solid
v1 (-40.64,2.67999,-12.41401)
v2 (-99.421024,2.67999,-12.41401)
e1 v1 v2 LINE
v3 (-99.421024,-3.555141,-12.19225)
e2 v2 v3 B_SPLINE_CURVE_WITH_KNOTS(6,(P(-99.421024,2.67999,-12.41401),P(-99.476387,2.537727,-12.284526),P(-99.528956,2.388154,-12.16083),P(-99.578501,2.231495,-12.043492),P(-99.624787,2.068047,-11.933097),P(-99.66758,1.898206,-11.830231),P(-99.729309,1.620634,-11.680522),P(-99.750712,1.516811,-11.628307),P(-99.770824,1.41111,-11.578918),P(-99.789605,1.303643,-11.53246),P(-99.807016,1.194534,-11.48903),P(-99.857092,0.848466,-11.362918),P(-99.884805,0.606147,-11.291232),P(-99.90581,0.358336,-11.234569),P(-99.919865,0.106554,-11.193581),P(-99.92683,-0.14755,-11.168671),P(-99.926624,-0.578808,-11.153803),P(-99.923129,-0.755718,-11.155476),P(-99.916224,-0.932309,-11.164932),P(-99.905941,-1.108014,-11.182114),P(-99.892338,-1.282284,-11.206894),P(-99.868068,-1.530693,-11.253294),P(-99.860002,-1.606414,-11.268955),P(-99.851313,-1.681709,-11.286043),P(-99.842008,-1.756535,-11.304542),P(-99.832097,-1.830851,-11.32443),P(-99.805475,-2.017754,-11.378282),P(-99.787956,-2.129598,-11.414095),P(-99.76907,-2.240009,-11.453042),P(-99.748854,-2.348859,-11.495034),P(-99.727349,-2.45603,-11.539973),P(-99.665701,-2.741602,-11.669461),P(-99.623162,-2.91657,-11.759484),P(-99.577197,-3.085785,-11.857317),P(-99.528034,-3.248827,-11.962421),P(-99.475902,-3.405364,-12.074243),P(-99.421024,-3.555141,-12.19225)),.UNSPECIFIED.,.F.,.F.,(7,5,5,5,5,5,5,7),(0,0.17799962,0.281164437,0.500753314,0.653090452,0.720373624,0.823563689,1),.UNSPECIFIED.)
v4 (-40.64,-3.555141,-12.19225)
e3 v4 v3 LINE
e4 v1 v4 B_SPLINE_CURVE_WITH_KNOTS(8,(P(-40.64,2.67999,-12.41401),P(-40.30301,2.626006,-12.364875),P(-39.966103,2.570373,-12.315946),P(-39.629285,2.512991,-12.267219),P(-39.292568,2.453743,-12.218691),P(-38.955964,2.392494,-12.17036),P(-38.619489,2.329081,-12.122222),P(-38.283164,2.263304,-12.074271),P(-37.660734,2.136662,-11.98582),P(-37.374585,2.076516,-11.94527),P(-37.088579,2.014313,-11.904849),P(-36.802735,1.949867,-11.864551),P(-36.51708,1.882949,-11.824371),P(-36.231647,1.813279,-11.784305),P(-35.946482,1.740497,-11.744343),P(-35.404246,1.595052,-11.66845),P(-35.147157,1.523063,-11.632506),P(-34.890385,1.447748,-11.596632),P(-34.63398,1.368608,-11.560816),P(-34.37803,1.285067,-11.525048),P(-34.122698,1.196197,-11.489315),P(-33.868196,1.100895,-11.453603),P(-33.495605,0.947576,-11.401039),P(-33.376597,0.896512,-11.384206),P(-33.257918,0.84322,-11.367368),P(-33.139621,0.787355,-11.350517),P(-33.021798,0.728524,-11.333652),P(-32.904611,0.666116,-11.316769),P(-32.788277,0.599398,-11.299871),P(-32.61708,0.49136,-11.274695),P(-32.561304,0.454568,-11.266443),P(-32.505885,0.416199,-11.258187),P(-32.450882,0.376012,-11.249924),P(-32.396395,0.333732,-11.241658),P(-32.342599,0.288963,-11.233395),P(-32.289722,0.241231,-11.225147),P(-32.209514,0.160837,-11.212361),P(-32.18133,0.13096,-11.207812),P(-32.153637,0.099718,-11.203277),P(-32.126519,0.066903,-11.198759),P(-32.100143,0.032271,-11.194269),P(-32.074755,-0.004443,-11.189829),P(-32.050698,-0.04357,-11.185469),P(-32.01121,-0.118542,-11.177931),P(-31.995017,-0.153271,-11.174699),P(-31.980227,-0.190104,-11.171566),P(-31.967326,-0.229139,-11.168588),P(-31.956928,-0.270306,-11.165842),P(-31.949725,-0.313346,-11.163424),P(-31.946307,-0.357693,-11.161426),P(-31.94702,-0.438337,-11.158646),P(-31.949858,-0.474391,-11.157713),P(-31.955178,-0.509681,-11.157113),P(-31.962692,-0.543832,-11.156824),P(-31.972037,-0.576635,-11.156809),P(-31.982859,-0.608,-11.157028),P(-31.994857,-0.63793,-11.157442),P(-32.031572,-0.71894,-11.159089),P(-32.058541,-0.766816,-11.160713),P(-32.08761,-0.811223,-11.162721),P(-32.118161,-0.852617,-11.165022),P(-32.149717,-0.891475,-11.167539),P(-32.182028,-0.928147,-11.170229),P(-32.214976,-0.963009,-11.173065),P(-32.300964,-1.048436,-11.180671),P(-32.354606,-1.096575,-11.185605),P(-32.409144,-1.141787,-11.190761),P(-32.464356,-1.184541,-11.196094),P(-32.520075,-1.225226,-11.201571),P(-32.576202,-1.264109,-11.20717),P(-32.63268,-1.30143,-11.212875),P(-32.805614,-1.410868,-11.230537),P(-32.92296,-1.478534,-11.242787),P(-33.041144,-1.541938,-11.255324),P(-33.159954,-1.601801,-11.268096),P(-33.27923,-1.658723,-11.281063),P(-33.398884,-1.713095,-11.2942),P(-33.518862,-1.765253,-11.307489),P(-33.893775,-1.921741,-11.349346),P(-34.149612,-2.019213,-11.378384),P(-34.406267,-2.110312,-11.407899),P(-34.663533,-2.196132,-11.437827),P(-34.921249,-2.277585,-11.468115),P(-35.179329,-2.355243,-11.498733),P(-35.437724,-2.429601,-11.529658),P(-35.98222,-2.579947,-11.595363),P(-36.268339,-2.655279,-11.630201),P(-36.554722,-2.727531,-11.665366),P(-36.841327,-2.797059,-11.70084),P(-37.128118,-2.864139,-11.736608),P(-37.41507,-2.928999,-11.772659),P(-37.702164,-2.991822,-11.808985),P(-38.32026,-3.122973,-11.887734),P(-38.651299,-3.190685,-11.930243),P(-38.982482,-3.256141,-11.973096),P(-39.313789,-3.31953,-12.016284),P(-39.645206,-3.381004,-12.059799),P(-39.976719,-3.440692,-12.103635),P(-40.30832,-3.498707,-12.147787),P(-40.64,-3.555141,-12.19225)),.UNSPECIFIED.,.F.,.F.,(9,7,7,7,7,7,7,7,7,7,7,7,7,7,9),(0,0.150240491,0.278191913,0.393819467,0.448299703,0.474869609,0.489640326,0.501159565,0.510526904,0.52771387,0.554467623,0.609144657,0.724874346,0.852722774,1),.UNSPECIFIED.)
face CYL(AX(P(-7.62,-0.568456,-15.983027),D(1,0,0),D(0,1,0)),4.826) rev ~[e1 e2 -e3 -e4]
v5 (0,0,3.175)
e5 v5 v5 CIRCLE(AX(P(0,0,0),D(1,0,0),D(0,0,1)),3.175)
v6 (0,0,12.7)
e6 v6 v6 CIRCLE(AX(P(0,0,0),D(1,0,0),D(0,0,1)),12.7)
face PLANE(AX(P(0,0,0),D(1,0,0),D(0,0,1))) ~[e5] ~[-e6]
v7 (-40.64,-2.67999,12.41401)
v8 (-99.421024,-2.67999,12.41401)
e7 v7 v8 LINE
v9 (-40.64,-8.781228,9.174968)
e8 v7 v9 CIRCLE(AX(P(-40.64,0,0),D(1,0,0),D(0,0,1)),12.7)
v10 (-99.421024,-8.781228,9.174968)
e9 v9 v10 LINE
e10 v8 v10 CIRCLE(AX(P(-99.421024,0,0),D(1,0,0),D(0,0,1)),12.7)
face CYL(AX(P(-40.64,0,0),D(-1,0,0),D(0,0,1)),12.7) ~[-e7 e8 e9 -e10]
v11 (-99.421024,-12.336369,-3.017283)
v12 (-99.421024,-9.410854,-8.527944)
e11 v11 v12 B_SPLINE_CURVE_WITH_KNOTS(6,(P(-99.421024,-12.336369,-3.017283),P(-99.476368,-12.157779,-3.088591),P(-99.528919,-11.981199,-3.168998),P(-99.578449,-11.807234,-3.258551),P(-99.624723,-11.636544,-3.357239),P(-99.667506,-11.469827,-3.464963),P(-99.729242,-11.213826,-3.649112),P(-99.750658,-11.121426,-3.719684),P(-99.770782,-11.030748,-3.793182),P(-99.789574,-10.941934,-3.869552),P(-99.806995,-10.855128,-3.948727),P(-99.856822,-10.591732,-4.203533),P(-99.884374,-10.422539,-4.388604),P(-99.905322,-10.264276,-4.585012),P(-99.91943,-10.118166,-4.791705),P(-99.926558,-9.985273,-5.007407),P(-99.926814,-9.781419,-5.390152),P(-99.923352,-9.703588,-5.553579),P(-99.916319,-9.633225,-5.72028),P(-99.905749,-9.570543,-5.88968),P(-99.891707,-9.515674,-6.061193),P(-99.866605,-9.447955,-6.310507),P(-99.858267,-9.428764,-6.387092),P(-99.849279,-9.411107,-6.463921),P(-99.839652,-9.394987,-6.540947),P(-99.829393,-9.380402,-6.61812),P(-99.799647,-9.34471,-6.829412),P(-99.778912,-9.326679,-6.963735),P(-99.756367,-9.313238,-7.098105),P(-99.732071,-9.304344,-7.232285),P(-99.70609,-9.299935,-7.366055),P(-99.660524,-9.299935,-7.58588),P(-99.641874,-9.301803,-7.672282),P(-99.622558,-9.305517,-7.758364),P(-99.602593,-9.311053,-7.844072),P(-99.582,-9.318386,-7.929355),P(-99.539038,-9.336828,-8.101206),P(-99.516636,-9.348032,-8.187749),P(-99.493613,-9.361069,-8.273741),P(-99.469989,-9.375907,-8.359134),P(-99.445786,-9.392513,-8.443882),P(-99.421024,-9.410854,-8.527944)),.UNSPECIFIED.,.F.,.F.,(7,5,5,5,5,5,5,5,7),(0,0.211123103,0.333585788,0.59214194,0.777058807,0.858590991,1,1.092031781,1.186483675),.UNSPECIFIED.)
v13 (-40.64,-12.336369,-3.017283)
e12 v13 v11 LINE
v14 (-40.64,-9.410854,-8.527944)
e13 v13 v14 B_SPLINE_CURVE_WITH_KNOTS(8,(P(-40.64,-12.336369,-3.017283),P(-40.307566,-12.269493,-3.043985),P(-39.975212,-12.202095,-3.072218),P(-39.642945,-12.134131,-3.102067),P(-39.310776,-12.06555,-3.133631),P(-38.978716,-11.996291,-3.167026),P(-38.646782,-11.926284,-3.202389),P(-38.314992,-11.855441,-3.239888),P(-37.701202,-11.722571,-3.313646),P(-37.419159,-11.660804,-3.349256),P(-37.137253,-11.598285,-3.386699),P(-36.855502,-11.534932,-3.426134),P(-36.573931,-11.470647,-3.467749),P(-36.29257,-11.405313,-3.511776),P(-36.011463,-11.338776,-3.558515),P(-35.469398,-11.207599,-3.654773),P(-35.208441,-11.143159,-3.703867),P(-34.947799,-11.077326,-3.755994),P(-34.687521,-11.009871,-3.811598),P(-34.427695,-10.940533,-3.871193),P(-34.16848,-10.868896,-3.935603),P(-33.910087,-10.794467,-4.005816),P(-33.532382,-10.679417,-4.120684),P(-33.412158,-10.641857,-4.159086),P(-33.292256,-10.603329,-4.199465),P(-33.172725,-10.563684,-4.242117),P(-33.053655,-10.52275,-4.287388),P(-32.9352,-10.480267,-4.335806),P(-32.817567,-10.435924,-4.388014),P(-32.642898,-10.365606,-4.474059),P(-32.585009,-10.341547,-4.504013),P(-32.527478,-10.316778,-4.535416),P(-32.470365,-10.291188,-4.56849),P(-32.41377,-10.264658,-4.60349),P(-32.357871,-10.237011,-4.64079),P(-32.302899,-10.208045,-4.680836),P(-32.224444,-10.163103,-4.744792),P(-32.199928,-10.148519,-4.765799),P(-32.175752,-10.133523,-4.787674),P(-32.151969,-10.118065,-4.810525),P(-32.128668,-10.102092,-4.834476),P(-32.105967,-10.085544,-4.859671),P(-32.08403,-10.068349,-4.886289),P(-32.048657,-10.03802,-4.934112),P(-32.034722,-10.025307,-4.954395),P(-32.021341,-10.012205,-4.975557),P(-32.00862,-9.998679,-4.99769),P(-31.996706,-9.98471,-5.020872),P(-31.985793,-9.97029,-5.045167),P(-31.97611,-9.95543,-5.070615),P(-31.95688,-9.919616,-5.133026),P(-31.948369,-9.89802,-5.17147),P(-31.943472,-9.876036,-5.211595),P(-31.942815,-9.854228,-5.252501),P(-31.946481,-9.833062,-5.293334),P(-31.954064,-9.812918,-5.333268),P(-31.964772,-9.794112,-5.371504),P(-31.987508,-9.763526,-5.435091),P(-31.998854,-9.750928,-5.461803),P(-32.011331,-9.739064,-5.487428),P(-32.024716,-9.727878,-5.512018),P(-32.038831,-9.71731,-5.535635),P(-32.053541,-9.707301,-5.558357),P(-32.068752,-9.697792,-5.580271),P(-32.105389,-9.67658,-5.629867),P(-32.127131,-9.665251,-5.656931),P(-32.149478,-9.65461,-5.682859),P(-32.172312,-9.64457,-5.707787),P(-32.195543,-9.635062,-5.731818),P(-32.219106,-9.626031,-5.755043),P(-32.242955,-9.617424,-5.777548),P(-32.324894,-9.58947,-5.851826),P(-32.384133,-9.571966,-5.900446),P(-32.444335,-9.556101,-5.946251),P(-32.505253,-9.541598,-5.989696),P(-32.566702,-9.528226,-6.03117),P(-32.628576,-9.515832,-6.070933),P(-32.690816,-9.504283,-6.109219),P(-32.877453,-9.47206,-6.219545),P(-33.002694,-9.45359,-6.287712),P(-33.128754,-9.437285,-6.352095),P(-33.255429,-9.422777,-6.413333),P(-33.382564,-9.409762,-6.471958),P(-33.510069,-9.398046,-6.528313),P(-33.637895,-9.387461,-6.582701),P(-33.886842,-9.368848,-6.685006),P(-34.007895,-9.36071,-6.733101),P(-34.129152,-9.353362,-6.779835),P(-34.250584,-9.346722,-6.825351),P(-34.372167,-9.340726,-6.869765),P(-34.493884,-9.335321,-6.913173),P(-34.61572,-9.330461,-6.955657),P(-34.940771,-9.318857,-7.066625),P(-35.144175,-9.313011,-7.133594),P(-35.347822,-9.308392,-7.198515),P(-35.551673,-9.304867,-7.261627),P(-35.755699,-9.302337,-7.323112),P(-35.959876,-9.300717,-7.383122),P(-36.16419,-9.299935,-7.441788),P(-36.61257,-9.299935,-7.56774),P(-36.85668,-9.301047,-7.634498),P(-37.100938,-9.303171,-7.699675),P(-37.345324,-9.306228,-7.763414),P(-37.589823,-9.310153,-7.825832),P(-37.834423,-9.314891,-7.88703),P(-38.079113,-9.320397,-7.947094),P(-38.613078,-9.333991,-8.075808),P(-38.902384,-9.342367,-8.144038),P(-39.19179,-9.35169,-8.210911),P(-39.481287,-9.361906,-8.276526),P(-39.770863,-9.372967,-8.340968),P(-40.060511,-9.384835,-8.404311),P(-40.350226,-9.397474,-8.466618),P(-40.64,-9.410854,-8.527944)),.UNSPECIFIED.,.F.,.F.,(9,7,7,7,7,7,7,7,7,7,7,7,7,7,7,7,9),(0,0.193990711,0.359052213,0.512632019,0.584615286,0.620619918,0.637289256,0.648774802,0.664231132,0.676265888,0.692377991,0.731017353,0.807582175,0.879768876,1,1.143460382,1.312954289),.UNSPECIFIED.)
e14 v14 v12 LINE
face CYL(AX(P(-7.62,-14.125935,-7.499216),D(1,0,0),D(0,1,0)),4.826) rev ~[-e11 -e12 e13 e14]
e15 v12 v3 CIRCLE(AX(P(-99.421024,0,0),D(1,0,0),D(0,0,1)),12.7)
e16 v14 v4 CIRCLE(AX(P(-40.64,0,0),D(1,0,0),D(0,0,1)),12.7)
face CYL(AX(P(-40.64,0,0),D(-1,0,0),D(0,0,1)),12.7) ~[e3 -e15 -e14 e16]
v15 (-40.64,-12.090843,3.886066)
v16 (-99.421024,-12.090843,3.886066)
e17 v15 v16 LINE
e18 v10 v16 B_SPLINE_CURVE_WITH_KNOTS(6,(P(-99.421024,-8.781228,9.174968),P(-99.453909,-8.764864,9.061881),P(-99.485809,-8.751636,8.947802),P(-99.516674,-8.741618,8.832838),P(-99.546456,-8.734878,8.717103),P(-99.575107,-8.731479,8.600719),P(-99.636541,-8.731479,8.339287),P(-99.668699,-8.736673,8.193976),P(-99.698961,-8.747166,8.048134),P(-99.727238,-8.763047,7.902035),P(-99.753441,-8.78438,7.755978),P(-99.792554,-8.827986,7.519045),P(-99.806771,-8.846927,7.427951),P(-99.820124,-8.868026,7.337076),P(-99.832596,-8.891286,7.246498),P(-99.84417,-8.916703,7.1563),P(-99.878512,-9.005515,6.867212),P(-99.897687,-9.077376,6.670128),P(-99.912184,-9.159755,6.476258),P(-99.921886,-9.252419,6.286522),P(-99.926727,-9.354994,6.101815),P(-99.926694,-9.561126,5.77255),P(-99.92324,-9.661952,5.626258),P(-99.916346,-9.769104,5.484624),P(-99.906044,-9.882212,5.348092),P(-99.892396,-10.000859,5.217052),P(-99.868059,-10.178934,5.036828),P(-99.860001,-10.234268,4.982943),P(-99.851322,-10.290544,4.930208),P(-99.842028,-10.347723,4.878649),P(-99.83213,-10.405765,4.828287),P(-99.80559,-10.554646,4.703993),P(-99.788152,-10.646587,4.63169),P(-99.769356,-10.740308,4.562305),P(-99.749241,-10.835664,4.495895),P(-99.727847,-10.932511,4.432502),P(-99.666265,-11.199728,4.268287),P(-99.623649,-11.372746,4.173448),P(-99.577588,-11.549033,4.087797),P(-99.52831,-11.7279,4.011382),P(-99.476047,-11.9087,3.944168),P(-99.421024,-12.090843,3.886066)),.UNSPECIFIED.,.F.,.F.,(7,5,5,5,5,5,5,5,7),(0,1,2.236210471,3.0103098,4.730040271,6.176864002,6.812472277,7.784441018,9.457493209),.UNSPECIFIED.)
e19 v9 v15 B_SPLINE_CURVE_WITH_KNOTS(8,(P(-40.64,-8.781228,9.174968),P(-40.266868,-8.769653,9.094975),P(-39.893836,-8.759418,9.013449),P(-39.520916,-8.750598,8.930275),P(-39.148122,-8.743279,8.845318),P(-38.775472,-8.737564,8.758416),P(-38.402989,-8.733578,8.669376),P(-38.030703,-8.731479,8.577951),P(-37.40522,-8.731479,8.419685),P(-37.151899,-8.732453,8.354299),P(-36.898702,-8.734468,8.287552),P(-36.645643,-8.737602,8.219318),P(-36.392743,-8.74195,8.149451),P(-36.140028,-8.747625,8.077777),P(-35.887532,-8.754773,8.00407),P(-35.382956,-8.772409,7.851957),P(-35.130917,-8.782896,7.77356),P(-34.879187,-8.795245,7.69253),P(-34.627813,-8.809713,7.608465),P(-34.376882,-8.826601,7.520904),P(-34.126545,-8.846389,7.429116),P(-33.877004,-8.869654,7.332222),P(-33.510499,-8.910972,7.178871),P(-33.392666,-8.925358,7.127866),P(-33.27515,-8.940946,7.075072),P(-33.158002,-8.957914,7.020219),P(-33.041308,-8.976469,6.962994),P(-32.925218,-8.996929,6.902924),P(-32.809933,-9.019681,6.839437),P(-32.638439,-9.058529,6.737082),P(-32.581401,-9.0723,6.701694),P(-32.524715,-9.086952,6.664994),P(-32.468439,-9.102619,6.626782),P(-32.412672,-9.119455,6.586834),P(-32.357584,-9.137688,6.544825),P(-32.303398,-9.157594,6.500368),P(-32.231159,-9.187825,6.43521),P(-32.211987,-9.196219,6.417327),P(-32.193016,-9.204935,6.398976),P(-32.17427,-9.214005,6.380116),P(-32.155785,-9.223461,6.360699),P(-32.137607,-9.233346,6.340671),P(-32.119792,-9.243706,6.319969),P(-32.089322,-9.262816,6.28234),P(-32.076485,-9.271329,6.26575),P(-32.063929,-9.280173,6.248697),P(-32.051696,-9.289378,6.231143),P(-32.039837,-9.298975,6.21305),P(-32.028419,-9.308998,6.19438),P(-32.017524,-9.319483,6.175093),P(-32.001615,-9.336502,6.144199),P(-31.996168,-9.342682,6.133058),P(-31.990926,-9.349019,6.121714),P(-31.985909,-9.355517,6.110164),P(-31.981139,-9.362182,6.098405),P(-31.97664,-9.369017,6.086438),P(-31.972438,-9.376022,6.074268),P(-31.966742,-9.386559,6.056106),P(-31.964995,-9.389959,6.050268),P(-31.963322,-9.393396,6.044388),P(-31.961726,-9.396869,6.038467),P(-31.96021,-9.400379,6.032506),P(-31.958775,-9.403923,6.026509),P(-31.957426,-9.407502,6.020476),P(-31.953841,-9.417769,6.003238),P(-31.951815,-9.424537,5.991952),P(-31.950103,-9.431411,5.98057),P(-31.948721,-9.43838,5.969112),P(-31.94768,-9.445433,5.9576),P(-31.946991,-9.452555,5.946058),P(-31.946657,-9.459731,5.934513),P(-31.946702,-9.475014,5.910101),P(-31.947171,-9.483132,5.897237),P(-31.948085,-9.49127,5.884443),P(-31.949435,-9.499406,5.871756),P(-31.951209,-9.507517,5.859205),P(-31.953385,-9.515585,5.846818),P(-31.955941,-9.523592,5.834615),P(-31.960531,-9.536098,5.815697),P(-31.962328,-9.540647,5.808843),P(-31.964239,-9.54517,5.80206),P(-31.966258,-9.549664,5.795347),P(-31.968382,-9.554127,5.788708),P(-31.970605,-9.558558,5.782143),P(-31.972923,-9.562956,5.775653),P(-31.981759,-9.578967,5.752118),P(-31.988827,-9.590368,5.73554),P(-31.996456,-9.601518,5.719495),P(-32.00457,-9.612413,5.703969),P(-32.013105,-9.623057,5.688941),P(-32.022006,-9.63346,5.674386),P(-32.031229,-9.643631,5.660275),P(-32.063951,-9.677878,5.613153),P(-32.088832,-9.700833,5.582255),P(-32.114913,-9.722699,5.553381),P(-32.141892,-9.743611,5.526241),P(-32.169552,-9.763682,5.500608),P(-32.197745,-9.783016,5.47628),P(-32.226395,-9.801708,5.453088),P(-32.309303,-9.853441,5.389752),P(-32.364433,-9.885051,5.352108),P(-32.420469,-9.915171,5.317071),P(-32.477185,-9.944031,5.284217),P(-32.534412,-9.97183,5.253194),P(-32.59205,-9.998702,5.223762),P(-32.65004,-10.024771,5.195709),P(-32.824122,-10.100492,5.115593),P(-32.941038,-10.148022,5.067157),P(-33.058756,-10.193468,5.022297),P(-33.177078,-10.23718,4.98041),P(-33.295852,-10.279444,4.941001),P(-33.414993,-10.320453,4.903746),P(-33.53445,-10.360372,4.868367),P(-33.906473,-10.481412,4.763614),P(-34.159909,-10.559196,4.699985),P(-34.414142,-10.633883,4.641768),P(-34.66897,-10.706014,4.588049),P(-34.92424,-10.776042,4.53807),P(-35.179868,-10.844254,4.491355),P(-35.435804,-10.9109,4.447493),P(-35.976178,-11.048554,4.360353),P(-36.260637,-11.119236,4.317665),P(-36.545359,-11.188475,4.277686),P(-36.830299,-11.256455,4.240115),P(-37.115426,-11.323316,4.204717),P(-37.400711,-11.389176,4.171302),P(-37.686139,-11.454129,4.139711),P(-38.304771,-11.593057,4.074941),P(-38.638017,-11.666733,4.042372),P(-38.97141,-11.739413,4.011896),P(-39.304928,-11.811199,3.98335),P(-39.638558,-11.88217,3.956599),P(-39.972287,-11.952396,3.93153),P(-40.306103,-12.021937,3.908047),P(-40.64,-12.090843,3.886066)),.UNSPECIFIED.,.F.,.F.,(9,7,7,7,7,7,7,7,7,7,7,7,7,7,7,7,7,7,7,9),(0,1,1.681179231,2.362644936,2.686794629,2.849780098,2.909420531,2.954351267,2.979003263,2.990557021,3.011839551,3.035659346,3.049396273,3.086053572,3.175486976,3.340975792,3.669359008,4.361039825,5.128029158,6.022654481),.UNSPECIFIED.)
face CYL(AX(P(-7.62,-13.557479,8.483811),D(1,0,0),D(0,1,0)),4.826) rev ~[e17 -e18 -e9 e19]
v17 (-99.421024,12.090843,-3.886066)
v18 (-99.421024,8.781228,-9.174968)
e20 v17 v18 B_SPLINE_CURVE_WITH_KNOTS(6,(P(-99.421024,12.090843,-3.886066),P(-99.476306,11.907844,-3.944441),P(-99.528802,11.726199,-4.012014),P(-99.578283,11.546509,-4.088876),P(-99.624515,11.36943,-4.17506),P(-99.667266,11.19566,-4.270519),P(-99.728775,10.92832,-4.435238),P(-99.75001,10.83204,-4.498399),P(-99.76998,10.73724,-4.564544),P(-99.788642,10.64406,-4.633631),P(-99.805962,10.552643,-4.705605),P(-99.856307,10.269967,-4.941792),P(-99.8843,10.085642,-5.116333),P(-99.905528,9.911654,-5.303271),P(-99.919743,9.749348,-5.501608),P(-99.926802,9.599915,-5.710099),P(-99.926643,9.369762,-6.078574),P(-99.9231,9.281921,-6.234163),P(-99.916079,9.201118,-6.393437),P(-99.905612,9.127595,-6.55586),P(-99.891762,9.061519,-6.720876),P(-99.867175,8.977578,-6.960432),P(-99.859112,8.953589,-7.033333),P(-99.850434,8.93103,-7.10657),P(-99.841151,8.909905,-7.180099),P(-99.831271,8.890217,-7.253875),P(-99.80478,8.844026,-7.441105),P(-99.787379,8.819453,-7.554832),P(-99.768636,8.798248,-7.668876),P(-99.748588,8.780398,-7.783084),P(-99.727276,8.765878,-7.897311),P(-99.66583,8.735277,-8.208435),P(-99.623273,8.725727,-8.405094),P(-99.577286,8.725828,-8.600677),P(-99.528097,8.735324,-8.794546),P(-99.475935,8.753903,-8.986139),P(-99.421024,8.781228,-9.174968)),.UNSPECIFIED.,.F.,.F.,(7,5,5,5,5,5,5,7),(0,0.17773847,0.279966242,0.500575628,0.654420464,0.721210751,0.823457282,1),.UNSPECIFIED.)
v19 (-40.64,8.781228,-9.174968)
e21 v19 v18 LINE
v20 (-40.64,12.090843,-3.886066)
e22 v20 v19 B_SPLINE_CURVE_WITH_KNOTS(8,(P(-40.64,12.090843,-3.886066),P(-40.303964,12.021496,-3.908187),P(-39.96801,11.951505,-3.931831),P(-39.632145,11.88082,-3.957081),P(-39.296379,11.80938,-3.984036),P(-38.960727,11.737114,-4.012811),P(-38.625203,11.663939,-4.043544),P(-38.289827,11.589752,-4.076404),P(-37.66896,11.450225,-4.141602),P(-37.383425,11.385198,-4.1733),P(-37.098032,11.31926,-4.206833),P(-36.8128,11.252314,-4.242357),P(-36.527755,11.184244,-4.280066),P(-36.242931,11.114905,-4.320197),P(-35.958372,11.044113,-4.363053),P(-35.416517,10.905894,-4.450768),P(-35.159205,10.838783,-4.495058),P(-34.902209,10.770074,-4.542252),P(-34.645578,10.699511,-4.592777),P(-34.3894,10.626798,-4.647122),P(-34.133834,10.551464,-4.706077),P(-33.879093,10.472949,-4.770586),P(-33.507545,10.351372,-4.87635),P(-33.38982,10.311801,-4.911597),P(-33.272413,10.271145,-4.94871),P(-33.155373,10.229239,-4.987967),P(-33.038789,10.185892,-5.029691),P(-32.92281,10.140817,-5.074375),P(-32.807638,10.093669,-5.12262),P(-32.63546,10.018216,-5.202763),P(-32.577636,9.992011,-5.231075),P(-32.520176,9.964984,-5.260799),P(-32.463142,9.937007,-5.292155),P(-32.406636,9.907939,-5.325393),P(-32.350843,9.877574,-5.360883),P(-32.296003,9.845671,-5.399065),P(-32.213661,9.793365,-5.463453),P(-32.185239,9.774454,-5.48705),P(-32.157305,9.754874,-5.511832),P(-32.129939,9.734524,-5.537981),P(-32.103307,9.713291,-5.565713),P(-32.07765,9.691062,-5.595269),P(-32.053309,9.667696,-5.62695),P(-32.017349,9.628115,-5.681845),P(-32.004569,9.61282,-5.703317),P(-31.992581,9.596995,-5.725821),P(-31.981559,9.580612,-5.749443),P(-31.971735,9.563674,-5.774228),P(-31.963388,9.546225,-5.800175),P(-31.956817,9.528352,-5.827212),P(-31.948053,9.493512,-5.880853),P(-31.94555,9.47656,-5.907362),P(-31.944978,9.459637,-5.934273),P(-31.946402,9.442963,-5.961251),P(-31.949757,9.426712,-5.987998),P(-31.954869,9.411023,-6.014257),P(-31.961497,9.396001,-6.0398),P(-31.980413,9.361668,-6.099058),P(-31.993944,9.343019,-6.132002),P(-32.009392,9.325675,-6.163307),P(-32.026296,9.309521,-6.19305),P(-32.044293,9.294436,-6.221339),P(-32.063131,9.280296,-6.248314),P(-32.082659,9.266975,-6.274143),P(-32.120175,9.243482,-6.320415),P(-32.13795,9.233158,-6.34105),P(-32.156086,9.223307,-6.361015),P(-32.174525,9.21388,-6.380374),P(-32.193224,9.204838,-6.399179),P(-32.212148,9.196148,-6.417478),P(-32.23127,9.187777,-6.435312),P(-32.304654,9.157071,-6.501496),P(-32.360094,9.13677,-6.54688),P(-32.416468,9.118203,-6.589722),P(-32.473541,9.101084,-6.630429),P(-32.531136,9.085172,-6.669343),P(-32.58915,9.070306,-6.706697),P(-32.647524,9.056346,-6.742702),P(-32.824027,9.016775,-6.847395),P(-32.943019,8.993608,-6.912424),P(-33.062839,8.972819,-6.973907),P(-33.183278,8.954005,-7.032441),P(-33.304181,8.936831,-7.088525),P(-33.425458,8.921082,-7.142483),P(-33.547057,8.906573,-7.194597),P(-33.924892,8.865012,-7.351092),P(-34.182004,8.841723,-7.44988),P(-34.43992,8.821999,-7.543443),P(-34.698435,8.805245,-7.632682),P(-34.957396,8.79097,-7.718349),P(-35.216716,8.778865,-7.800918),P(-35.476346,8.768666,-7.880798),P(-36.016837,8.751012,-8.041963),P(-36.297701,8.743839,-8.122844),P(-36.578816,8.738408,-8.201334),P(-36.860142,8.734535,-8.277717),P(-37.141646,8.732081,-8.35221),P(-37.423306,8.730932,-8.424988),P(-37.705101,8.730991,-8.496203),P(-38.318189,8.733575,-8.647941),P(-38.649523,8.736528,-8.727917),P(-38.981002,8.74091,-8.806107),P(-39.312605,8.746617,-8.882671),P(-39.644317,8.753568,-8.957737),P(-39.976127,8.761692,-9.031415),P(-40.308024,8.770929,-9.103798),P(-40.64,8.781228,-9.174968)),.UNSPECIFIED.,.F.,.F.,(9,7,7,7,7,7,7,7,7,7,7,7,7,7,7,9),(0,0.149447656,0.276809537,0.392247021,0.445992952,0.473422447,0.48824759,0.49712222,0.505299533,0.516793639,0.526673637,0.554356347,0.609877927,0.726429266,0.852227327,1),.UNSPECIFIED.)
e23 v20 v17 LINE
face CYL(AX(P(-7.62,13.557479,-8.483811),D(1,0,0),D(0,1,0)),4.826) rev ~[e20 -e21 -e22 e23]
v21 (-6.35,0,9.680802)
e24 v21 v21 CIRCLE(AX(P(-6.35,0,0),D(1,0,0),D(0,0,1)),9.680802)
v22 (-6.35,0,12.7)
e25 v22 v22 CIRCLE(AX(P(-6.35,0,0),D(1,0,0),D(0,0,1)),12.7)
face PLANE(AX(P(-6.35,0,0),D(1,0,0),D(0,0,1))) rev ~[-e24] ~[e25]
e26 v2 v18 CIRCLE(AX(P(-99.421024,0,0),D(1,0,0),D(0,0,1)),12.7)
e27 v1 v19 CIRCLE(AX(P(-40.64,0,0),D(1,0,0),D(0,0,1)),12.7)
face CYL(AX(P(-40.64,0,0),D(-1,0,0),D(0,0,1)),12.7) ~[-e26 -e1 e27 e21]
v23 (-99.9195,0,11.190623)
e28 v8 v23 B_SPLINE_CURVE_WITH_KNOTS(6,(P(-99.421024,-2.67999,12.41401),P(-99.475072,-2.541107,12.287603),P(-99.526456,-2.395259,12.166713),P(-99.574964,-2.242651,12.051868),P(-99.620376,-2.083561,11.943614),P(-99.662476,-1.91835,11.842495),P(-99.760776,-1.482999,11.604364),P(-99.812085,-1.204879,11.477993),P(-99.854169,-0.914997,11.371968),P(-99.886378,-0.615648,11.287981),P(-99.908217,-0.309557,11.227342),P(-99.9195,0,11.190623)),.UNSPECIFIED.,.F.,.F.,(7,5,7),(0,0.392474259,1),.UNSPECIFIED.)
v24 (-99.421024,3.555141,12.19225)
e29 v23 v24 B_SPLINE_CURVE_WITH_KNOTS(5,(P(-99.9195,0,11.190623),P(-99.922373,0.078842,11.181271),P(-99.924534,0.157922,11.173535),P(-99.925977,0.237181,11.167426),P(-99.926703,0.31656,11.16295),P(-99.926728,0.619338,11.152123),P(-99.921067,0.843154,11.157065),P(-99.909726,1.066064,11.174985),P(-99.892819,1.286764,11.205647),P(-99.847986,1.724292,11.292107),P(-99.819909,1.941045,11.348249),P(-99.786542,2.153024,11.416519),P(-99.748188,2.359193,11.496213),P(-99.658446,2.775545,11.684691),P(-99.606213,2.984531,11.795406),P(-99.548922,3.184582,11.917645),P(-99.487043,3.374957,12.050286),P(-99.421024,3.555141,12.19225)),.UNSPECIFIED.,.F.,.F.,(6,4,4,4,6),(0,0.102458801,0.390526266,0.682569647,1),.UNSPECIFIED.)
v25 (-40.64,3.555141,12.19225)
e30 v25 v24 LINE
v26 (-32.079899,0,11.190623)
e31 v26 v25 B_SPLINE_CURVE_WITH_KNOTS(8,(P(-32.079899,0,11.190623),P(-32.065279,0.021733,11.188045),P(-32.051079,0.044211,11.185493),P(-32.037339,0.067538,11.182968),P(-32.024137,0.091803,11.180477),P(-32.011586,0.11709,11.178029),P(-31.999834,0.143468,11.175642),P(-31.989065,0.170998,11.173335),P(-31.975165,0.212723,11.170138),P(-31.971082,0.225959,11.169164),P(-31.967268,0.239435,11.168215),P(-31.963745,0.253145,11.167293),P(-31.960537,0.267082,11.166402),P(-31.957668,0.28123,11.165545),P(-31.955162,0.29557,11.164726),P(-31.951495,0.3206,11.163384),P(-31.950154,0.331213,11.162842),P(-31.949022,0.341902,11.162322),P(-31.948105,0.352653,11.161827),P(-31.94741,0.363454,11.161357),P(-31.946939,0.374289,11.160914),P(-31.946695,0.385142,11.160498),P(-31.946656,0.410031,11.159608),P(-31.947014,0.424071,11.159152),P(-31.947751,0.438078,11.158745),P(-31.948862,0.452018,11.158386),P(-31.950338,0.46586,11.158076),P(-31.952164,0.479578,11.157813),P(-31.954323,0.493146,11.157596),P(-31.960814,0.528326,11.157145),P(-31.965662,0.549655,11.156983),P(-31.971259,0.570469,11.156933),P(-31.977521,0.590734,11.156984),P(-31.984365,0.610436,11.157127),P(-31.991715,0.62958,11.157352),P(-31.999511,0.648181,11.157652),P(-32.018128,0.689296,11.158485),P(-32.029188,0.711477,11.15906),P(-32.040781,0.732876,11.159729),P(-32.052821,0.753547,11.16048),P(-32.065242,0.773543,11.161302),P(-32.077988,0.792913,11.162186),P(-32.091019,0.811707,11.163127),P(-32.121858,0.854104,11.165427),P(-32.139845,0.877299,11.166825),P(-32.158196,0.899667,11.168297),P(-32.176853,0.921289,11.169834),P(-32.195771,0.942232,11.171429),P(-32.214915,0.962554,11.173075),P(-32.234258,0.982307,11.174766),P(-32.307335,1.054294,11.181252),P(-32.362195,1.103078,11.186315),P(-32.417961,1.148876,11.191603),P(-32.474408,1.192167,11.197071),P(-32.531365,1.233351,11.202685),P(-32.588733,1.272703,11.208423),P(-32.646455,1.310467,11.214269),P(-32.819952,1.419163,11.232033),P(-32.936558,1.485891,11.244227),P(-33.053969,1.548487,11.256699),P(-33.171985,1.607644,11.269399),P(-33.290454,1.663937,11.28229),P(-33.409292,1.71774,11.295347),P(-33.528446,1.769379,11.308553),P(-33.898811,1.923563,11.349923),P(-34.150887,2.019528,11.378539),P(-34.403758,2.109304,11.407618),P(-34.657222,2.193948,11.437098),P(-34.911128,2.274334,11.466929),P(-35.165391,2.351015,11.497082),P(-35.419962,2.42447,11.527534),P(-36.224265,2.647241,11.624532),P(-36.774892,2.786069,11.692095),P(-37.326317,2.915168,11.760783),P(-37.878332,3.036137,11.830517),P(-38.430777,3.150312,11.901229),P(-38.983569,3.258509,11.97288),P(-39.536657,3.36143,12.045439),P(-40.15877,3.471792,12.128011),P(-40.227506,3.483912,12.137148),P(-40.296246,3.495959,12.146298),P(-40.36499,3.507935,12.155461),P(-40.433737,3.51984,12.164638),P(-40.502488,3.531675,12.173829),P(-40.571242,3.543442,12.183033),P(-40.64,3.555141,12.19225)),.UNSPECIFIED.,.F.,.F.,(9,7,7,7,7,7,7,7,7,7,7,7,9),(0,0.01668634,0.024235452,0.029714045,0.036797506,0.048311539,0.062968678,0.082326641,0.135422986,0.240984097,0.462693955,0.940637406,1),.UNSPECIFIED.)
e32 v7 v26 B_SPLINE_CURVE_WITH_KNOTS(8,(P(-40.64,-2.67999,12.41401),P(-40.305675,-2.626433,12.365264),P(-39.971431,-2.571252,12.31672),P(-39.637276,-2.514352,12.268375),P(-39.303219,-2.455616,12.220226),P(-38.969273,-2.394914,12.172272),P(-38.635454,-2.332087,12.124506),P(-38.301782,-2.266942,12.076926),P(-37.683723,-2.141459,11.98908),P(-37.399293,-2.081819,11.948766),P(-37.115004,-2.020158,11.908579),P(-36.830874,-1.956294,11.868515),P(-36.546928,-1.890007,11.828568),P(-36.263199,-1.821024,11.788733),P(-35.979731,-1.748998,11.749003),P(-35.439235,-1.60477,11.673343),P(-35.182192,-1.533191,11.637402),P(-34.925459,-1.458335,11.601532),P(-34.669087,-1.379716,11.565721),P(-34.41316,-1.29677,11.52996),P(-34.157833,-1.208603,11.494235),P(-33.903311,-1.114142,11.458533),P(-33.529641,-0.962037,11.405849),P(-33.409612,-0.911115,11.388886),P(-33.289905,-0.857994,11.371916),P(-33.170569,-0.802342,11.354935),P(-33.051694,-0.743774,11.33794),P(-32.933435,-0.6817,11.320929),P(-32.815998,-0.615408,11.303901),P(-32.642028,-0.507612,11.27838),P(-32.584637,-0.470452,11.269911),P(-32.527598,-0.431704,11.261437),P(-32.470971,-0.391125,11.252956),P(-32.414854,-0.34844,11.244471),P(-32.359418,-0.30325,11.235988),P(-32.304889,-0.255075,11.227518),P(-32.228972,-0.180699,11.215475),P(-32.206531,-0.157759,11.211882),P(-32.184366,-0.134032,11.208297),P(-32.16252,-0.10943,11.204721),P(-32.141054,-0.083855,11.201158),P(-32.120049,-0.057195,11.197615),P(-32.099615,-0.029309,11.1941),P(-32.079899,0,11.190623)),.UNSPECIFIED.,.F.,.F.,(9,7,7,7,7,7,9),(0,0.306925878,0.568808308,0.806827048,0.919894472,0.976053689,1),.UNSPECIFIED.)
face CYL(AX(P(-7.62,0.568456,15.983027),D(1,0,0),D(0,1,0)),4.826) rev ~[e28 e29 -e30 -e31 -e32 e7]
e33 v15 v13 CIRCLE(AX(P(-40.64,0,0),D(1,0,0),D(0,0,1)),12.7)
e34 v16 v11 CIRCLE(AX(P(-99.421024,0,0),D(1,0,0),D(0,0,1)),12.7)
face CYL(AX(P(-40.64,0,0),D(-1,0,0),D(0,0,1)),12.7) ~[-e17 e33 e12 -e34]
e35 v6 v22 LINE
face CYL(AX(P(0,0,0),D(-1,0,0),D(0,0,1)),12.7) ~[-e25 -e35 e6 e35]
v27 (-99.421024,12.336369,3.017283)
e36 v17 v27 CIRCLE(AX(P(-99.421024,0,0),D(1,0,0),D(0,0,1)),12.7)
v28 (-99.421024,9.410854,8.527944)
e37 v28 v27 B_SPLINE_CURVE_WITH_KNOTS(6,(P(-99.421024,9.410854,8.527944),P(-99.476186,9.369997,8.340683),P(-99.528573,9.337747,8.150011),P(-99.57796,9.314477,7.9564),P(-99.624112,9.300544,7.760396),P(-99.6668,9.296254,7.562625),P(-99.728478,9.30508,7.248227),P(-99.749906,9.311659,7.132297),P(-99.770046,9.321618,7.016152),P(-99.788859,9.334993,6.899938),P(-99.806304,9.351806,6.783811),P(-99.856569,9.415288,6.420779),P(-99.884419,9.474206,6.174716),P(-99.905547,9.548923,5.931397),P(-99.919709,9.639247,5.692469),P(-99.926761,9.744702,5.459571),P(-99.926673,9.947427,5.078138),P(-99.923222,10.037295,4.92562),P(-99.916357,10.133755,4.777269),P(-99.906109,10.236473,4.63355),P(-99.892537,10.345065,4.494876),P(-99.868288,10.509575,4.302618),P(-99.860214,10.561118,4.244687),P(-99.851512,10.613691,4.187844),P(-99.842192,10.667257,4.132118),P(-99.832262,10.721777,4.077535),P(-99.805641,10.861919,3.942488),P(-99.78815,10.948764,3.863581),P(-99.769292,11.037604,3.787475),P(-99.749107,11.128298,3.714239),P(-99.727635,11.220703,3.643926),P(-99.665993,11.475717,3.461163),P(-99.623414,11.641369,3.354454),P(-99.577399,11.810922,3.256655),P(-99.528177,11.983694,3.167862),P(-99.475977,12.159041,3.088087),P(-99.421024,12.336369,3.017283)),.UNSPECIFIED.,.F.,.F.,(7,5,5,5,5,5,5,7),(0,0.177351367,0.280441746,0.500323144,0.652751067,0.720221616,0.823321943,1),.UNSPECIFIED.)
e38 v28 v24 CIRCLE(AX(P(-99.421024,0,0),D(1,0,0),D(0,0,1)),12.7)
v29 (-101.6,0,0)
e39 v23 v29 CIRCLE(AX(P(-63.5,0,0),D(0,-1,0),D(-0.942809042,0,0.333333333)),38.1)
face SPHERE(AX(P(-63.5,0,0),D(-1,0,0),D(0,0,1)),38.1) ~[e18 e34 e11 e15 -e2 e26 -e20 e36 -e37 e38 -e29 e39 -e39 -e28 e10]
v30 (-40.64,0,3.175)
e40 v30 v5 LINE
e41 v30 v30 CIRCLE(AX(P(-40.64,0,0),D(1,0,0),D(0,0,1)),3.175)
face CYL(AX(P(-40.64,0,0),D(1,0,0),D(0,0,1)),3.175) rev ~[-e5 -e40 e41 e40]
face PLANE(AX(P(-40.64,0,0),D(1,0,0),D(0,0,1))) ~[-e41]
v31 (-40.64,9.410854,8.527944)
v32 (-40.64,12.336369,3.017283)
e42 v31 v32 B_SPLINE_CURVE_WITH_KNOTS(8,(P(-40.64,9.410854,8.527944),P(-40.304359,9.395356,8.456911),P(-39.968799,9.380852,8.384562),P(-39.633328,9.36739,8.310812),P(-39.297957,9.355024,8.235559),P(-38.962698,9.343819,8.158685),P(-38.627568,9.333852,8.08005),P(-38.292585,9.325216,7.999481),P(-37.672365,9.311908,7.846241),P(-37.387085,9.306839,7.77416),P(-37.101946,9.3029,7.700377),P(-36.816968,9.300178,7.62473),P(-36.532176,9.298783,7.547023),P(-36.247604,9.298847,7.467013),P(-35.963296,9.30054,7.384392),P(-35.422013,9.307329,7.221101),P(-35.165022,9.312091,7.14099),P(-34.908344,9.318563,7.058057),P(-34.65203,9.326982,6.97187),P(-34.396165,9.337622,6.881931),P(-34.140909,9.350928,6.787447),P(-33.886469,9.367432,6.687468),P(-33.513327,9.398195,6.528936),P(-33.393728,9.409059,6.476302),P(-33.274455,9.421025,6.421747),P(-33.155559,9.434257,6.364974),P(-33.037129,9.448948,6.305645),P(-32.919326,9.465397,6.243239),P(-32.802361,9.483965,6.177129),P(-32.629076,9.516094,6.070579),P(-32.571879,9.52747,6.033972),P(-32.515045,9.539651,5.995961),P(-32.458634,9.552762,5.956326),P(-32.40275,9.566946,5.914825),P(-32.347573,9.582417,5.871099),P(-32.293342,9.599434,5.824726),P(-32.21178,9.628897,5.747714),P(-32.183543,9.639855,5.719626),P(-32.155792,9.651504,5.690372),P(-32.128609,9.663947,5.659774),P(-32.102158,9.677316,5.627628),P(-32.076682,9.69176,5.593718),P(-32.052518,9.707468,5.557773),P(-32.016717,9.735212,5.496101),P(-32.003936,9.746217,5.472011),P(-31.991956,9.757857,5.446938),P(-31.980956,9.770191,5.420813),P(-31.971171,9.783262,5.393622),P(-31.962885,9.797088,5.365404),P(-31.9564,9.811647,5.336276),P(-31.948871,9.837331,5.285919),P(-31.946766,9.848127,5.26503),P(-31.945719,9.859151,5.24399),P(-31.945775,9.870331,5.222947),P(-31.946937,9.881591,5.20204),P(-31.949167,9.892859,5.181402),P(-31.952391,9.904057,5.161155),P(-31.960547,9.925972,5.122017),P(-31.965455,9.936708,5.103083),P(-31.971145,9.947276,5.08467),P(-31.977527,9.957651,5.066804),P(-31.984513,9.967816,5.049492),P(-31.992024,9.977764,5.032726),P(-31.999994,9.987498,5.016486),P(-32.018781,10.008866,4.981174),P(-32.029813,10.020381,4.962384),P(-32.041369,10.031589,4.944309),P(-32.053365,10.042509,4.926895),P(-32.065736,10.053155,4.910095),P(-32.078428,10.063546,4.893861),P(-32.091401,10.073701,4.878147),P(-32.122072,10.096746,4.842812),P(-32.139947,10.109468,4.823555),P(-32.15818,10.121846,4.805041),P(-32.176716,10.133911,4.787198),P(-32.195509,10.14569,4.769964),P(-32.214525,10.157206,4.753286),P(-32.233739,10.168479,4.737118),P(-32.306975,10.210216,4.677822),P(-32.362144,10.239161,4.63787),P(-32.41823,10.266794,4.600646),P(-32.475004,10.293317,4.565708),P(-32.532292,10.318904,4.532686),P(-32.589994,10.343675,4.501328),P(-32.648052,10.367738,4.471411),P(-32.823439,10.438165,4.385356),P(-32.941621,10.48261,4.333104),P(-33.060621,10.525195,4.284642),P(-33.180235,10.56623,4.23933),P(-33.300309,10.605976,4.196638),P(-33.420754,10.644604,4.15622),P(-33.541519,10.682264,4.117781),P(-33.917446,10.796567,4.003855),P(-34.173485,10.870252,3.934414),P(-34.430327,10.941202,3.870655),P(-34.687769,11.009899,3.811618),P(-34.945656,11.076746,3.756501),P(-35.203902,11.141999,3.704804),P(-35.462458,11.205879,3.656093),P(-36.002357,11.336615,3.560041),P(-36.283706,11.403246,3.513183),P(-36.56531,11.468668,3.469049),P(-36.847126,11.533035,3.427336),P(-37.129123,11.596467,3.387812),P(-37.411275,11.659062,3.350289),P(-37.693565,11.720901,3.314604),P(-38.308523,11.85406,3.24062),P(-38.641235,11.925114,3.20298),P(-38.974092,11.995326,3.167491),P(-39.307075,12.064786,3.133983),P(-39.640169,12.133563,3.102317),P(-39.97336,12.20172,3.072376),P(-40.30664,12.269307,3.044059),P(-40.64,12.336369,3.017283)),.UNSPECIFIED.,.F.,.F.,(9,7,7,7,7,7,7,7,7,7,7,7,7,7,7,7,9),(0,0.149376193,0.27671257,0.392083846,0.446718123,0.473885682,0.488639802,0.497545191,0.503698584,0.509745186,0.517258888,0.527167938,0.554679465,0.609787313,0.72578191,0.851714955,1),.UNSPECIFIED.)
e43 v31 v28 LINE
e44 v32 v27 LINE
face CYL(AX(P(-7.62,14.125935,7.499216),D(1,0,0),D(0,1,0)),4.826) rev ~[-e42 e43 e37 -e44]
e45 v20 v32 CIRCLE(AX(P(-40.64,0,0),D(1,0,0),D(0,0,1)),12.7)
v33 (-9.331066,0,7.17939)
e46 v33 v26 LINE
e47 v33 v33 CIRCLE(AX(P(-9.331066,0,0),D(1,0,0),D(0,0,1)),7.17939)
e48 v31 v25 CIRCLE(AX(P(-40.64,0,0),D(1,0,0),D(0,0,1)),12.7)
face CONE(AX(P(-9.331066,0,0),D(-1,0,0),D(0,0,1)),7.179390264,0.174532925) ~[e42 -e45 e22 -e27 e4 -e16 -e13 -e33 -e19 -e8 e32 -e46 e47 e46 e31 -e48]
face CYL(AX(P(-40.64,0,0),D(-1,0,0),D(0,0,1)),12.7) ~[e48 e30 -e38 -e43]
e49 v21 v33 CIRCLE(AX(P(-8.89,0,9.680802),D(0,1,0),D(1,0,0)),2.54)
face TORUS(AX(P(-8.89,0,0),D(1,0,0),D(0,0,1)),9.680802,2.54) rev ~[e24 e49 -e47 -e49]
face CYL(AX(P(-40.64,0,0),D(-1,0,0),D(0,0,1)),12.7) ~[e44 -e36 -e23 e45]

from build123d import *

# Parameters (mm, degrees)
F3_START = -7.62
F2_R     = 4.826
F3_DEPTH = 93.981


with BuildPart() as f1:
    # F0 (on Front) → F1 (revolve)
    with BuildSketch(Plane.XZ):
        with BuildLine():
            Line((0, 3.175), (0, 7.1581820314))
            Line((0, 7.1581820314), (0, 12.7))
            Line((0, 12.7), (-6.35, 12.7))
            Line((-6.35, 12.7), (-6.35, 9.6808019567))
            ThreePointArc((-6.35, 9.6808019567), (-7.2573194714, 7.7350490712), (-9.3310663713, 7.179390264))
            Line((-9.3310663713, 7.179390264), (-40.64, 12.7))
            Line((-40.64, 12.7), (-99.4210244843, 12.7))
            ThreePointArc((-99.4210244843, 12.7), (-101.0513051228, 6.4427853895), (-101.6, 0))
            Line((-101.6, 0), (-40.64, 0))
            Line((-40.64, 0), (-40.64, 3.175))
            Line((-40.64, 3.175), (0, 3.175))
        make_face()
    revolve(axis=Axis((-71.12, 0, 0), (1, 0, 0)))

    # F2 (on face) → F3 (cut)
    with BuildSketch(Plane.YZ.offset(F3_START)):
        with Locations((-14.1259352998, -7.4992162652)):
            Circle(F2_R)
        with Locations((-13.557479444, 8.4838106893)):
            Circle(F2_R)
        with Locations((0.5684558558, 15.9830269545)):
            Circle(F2_R)
        with Locations((14.1259352998, 7.4992162652)):
            Circle(F2_R)
        with Locations((13.557479444, -8.4838106893)):
            Circle(F2_R)
        with Locations((-0.5684558558, -15.9830269545)):
            Circle(F2_R)
    extrude(amount=-F3_DEPTH, mode=Mode.SUBTRACT)


solid = f1.part
